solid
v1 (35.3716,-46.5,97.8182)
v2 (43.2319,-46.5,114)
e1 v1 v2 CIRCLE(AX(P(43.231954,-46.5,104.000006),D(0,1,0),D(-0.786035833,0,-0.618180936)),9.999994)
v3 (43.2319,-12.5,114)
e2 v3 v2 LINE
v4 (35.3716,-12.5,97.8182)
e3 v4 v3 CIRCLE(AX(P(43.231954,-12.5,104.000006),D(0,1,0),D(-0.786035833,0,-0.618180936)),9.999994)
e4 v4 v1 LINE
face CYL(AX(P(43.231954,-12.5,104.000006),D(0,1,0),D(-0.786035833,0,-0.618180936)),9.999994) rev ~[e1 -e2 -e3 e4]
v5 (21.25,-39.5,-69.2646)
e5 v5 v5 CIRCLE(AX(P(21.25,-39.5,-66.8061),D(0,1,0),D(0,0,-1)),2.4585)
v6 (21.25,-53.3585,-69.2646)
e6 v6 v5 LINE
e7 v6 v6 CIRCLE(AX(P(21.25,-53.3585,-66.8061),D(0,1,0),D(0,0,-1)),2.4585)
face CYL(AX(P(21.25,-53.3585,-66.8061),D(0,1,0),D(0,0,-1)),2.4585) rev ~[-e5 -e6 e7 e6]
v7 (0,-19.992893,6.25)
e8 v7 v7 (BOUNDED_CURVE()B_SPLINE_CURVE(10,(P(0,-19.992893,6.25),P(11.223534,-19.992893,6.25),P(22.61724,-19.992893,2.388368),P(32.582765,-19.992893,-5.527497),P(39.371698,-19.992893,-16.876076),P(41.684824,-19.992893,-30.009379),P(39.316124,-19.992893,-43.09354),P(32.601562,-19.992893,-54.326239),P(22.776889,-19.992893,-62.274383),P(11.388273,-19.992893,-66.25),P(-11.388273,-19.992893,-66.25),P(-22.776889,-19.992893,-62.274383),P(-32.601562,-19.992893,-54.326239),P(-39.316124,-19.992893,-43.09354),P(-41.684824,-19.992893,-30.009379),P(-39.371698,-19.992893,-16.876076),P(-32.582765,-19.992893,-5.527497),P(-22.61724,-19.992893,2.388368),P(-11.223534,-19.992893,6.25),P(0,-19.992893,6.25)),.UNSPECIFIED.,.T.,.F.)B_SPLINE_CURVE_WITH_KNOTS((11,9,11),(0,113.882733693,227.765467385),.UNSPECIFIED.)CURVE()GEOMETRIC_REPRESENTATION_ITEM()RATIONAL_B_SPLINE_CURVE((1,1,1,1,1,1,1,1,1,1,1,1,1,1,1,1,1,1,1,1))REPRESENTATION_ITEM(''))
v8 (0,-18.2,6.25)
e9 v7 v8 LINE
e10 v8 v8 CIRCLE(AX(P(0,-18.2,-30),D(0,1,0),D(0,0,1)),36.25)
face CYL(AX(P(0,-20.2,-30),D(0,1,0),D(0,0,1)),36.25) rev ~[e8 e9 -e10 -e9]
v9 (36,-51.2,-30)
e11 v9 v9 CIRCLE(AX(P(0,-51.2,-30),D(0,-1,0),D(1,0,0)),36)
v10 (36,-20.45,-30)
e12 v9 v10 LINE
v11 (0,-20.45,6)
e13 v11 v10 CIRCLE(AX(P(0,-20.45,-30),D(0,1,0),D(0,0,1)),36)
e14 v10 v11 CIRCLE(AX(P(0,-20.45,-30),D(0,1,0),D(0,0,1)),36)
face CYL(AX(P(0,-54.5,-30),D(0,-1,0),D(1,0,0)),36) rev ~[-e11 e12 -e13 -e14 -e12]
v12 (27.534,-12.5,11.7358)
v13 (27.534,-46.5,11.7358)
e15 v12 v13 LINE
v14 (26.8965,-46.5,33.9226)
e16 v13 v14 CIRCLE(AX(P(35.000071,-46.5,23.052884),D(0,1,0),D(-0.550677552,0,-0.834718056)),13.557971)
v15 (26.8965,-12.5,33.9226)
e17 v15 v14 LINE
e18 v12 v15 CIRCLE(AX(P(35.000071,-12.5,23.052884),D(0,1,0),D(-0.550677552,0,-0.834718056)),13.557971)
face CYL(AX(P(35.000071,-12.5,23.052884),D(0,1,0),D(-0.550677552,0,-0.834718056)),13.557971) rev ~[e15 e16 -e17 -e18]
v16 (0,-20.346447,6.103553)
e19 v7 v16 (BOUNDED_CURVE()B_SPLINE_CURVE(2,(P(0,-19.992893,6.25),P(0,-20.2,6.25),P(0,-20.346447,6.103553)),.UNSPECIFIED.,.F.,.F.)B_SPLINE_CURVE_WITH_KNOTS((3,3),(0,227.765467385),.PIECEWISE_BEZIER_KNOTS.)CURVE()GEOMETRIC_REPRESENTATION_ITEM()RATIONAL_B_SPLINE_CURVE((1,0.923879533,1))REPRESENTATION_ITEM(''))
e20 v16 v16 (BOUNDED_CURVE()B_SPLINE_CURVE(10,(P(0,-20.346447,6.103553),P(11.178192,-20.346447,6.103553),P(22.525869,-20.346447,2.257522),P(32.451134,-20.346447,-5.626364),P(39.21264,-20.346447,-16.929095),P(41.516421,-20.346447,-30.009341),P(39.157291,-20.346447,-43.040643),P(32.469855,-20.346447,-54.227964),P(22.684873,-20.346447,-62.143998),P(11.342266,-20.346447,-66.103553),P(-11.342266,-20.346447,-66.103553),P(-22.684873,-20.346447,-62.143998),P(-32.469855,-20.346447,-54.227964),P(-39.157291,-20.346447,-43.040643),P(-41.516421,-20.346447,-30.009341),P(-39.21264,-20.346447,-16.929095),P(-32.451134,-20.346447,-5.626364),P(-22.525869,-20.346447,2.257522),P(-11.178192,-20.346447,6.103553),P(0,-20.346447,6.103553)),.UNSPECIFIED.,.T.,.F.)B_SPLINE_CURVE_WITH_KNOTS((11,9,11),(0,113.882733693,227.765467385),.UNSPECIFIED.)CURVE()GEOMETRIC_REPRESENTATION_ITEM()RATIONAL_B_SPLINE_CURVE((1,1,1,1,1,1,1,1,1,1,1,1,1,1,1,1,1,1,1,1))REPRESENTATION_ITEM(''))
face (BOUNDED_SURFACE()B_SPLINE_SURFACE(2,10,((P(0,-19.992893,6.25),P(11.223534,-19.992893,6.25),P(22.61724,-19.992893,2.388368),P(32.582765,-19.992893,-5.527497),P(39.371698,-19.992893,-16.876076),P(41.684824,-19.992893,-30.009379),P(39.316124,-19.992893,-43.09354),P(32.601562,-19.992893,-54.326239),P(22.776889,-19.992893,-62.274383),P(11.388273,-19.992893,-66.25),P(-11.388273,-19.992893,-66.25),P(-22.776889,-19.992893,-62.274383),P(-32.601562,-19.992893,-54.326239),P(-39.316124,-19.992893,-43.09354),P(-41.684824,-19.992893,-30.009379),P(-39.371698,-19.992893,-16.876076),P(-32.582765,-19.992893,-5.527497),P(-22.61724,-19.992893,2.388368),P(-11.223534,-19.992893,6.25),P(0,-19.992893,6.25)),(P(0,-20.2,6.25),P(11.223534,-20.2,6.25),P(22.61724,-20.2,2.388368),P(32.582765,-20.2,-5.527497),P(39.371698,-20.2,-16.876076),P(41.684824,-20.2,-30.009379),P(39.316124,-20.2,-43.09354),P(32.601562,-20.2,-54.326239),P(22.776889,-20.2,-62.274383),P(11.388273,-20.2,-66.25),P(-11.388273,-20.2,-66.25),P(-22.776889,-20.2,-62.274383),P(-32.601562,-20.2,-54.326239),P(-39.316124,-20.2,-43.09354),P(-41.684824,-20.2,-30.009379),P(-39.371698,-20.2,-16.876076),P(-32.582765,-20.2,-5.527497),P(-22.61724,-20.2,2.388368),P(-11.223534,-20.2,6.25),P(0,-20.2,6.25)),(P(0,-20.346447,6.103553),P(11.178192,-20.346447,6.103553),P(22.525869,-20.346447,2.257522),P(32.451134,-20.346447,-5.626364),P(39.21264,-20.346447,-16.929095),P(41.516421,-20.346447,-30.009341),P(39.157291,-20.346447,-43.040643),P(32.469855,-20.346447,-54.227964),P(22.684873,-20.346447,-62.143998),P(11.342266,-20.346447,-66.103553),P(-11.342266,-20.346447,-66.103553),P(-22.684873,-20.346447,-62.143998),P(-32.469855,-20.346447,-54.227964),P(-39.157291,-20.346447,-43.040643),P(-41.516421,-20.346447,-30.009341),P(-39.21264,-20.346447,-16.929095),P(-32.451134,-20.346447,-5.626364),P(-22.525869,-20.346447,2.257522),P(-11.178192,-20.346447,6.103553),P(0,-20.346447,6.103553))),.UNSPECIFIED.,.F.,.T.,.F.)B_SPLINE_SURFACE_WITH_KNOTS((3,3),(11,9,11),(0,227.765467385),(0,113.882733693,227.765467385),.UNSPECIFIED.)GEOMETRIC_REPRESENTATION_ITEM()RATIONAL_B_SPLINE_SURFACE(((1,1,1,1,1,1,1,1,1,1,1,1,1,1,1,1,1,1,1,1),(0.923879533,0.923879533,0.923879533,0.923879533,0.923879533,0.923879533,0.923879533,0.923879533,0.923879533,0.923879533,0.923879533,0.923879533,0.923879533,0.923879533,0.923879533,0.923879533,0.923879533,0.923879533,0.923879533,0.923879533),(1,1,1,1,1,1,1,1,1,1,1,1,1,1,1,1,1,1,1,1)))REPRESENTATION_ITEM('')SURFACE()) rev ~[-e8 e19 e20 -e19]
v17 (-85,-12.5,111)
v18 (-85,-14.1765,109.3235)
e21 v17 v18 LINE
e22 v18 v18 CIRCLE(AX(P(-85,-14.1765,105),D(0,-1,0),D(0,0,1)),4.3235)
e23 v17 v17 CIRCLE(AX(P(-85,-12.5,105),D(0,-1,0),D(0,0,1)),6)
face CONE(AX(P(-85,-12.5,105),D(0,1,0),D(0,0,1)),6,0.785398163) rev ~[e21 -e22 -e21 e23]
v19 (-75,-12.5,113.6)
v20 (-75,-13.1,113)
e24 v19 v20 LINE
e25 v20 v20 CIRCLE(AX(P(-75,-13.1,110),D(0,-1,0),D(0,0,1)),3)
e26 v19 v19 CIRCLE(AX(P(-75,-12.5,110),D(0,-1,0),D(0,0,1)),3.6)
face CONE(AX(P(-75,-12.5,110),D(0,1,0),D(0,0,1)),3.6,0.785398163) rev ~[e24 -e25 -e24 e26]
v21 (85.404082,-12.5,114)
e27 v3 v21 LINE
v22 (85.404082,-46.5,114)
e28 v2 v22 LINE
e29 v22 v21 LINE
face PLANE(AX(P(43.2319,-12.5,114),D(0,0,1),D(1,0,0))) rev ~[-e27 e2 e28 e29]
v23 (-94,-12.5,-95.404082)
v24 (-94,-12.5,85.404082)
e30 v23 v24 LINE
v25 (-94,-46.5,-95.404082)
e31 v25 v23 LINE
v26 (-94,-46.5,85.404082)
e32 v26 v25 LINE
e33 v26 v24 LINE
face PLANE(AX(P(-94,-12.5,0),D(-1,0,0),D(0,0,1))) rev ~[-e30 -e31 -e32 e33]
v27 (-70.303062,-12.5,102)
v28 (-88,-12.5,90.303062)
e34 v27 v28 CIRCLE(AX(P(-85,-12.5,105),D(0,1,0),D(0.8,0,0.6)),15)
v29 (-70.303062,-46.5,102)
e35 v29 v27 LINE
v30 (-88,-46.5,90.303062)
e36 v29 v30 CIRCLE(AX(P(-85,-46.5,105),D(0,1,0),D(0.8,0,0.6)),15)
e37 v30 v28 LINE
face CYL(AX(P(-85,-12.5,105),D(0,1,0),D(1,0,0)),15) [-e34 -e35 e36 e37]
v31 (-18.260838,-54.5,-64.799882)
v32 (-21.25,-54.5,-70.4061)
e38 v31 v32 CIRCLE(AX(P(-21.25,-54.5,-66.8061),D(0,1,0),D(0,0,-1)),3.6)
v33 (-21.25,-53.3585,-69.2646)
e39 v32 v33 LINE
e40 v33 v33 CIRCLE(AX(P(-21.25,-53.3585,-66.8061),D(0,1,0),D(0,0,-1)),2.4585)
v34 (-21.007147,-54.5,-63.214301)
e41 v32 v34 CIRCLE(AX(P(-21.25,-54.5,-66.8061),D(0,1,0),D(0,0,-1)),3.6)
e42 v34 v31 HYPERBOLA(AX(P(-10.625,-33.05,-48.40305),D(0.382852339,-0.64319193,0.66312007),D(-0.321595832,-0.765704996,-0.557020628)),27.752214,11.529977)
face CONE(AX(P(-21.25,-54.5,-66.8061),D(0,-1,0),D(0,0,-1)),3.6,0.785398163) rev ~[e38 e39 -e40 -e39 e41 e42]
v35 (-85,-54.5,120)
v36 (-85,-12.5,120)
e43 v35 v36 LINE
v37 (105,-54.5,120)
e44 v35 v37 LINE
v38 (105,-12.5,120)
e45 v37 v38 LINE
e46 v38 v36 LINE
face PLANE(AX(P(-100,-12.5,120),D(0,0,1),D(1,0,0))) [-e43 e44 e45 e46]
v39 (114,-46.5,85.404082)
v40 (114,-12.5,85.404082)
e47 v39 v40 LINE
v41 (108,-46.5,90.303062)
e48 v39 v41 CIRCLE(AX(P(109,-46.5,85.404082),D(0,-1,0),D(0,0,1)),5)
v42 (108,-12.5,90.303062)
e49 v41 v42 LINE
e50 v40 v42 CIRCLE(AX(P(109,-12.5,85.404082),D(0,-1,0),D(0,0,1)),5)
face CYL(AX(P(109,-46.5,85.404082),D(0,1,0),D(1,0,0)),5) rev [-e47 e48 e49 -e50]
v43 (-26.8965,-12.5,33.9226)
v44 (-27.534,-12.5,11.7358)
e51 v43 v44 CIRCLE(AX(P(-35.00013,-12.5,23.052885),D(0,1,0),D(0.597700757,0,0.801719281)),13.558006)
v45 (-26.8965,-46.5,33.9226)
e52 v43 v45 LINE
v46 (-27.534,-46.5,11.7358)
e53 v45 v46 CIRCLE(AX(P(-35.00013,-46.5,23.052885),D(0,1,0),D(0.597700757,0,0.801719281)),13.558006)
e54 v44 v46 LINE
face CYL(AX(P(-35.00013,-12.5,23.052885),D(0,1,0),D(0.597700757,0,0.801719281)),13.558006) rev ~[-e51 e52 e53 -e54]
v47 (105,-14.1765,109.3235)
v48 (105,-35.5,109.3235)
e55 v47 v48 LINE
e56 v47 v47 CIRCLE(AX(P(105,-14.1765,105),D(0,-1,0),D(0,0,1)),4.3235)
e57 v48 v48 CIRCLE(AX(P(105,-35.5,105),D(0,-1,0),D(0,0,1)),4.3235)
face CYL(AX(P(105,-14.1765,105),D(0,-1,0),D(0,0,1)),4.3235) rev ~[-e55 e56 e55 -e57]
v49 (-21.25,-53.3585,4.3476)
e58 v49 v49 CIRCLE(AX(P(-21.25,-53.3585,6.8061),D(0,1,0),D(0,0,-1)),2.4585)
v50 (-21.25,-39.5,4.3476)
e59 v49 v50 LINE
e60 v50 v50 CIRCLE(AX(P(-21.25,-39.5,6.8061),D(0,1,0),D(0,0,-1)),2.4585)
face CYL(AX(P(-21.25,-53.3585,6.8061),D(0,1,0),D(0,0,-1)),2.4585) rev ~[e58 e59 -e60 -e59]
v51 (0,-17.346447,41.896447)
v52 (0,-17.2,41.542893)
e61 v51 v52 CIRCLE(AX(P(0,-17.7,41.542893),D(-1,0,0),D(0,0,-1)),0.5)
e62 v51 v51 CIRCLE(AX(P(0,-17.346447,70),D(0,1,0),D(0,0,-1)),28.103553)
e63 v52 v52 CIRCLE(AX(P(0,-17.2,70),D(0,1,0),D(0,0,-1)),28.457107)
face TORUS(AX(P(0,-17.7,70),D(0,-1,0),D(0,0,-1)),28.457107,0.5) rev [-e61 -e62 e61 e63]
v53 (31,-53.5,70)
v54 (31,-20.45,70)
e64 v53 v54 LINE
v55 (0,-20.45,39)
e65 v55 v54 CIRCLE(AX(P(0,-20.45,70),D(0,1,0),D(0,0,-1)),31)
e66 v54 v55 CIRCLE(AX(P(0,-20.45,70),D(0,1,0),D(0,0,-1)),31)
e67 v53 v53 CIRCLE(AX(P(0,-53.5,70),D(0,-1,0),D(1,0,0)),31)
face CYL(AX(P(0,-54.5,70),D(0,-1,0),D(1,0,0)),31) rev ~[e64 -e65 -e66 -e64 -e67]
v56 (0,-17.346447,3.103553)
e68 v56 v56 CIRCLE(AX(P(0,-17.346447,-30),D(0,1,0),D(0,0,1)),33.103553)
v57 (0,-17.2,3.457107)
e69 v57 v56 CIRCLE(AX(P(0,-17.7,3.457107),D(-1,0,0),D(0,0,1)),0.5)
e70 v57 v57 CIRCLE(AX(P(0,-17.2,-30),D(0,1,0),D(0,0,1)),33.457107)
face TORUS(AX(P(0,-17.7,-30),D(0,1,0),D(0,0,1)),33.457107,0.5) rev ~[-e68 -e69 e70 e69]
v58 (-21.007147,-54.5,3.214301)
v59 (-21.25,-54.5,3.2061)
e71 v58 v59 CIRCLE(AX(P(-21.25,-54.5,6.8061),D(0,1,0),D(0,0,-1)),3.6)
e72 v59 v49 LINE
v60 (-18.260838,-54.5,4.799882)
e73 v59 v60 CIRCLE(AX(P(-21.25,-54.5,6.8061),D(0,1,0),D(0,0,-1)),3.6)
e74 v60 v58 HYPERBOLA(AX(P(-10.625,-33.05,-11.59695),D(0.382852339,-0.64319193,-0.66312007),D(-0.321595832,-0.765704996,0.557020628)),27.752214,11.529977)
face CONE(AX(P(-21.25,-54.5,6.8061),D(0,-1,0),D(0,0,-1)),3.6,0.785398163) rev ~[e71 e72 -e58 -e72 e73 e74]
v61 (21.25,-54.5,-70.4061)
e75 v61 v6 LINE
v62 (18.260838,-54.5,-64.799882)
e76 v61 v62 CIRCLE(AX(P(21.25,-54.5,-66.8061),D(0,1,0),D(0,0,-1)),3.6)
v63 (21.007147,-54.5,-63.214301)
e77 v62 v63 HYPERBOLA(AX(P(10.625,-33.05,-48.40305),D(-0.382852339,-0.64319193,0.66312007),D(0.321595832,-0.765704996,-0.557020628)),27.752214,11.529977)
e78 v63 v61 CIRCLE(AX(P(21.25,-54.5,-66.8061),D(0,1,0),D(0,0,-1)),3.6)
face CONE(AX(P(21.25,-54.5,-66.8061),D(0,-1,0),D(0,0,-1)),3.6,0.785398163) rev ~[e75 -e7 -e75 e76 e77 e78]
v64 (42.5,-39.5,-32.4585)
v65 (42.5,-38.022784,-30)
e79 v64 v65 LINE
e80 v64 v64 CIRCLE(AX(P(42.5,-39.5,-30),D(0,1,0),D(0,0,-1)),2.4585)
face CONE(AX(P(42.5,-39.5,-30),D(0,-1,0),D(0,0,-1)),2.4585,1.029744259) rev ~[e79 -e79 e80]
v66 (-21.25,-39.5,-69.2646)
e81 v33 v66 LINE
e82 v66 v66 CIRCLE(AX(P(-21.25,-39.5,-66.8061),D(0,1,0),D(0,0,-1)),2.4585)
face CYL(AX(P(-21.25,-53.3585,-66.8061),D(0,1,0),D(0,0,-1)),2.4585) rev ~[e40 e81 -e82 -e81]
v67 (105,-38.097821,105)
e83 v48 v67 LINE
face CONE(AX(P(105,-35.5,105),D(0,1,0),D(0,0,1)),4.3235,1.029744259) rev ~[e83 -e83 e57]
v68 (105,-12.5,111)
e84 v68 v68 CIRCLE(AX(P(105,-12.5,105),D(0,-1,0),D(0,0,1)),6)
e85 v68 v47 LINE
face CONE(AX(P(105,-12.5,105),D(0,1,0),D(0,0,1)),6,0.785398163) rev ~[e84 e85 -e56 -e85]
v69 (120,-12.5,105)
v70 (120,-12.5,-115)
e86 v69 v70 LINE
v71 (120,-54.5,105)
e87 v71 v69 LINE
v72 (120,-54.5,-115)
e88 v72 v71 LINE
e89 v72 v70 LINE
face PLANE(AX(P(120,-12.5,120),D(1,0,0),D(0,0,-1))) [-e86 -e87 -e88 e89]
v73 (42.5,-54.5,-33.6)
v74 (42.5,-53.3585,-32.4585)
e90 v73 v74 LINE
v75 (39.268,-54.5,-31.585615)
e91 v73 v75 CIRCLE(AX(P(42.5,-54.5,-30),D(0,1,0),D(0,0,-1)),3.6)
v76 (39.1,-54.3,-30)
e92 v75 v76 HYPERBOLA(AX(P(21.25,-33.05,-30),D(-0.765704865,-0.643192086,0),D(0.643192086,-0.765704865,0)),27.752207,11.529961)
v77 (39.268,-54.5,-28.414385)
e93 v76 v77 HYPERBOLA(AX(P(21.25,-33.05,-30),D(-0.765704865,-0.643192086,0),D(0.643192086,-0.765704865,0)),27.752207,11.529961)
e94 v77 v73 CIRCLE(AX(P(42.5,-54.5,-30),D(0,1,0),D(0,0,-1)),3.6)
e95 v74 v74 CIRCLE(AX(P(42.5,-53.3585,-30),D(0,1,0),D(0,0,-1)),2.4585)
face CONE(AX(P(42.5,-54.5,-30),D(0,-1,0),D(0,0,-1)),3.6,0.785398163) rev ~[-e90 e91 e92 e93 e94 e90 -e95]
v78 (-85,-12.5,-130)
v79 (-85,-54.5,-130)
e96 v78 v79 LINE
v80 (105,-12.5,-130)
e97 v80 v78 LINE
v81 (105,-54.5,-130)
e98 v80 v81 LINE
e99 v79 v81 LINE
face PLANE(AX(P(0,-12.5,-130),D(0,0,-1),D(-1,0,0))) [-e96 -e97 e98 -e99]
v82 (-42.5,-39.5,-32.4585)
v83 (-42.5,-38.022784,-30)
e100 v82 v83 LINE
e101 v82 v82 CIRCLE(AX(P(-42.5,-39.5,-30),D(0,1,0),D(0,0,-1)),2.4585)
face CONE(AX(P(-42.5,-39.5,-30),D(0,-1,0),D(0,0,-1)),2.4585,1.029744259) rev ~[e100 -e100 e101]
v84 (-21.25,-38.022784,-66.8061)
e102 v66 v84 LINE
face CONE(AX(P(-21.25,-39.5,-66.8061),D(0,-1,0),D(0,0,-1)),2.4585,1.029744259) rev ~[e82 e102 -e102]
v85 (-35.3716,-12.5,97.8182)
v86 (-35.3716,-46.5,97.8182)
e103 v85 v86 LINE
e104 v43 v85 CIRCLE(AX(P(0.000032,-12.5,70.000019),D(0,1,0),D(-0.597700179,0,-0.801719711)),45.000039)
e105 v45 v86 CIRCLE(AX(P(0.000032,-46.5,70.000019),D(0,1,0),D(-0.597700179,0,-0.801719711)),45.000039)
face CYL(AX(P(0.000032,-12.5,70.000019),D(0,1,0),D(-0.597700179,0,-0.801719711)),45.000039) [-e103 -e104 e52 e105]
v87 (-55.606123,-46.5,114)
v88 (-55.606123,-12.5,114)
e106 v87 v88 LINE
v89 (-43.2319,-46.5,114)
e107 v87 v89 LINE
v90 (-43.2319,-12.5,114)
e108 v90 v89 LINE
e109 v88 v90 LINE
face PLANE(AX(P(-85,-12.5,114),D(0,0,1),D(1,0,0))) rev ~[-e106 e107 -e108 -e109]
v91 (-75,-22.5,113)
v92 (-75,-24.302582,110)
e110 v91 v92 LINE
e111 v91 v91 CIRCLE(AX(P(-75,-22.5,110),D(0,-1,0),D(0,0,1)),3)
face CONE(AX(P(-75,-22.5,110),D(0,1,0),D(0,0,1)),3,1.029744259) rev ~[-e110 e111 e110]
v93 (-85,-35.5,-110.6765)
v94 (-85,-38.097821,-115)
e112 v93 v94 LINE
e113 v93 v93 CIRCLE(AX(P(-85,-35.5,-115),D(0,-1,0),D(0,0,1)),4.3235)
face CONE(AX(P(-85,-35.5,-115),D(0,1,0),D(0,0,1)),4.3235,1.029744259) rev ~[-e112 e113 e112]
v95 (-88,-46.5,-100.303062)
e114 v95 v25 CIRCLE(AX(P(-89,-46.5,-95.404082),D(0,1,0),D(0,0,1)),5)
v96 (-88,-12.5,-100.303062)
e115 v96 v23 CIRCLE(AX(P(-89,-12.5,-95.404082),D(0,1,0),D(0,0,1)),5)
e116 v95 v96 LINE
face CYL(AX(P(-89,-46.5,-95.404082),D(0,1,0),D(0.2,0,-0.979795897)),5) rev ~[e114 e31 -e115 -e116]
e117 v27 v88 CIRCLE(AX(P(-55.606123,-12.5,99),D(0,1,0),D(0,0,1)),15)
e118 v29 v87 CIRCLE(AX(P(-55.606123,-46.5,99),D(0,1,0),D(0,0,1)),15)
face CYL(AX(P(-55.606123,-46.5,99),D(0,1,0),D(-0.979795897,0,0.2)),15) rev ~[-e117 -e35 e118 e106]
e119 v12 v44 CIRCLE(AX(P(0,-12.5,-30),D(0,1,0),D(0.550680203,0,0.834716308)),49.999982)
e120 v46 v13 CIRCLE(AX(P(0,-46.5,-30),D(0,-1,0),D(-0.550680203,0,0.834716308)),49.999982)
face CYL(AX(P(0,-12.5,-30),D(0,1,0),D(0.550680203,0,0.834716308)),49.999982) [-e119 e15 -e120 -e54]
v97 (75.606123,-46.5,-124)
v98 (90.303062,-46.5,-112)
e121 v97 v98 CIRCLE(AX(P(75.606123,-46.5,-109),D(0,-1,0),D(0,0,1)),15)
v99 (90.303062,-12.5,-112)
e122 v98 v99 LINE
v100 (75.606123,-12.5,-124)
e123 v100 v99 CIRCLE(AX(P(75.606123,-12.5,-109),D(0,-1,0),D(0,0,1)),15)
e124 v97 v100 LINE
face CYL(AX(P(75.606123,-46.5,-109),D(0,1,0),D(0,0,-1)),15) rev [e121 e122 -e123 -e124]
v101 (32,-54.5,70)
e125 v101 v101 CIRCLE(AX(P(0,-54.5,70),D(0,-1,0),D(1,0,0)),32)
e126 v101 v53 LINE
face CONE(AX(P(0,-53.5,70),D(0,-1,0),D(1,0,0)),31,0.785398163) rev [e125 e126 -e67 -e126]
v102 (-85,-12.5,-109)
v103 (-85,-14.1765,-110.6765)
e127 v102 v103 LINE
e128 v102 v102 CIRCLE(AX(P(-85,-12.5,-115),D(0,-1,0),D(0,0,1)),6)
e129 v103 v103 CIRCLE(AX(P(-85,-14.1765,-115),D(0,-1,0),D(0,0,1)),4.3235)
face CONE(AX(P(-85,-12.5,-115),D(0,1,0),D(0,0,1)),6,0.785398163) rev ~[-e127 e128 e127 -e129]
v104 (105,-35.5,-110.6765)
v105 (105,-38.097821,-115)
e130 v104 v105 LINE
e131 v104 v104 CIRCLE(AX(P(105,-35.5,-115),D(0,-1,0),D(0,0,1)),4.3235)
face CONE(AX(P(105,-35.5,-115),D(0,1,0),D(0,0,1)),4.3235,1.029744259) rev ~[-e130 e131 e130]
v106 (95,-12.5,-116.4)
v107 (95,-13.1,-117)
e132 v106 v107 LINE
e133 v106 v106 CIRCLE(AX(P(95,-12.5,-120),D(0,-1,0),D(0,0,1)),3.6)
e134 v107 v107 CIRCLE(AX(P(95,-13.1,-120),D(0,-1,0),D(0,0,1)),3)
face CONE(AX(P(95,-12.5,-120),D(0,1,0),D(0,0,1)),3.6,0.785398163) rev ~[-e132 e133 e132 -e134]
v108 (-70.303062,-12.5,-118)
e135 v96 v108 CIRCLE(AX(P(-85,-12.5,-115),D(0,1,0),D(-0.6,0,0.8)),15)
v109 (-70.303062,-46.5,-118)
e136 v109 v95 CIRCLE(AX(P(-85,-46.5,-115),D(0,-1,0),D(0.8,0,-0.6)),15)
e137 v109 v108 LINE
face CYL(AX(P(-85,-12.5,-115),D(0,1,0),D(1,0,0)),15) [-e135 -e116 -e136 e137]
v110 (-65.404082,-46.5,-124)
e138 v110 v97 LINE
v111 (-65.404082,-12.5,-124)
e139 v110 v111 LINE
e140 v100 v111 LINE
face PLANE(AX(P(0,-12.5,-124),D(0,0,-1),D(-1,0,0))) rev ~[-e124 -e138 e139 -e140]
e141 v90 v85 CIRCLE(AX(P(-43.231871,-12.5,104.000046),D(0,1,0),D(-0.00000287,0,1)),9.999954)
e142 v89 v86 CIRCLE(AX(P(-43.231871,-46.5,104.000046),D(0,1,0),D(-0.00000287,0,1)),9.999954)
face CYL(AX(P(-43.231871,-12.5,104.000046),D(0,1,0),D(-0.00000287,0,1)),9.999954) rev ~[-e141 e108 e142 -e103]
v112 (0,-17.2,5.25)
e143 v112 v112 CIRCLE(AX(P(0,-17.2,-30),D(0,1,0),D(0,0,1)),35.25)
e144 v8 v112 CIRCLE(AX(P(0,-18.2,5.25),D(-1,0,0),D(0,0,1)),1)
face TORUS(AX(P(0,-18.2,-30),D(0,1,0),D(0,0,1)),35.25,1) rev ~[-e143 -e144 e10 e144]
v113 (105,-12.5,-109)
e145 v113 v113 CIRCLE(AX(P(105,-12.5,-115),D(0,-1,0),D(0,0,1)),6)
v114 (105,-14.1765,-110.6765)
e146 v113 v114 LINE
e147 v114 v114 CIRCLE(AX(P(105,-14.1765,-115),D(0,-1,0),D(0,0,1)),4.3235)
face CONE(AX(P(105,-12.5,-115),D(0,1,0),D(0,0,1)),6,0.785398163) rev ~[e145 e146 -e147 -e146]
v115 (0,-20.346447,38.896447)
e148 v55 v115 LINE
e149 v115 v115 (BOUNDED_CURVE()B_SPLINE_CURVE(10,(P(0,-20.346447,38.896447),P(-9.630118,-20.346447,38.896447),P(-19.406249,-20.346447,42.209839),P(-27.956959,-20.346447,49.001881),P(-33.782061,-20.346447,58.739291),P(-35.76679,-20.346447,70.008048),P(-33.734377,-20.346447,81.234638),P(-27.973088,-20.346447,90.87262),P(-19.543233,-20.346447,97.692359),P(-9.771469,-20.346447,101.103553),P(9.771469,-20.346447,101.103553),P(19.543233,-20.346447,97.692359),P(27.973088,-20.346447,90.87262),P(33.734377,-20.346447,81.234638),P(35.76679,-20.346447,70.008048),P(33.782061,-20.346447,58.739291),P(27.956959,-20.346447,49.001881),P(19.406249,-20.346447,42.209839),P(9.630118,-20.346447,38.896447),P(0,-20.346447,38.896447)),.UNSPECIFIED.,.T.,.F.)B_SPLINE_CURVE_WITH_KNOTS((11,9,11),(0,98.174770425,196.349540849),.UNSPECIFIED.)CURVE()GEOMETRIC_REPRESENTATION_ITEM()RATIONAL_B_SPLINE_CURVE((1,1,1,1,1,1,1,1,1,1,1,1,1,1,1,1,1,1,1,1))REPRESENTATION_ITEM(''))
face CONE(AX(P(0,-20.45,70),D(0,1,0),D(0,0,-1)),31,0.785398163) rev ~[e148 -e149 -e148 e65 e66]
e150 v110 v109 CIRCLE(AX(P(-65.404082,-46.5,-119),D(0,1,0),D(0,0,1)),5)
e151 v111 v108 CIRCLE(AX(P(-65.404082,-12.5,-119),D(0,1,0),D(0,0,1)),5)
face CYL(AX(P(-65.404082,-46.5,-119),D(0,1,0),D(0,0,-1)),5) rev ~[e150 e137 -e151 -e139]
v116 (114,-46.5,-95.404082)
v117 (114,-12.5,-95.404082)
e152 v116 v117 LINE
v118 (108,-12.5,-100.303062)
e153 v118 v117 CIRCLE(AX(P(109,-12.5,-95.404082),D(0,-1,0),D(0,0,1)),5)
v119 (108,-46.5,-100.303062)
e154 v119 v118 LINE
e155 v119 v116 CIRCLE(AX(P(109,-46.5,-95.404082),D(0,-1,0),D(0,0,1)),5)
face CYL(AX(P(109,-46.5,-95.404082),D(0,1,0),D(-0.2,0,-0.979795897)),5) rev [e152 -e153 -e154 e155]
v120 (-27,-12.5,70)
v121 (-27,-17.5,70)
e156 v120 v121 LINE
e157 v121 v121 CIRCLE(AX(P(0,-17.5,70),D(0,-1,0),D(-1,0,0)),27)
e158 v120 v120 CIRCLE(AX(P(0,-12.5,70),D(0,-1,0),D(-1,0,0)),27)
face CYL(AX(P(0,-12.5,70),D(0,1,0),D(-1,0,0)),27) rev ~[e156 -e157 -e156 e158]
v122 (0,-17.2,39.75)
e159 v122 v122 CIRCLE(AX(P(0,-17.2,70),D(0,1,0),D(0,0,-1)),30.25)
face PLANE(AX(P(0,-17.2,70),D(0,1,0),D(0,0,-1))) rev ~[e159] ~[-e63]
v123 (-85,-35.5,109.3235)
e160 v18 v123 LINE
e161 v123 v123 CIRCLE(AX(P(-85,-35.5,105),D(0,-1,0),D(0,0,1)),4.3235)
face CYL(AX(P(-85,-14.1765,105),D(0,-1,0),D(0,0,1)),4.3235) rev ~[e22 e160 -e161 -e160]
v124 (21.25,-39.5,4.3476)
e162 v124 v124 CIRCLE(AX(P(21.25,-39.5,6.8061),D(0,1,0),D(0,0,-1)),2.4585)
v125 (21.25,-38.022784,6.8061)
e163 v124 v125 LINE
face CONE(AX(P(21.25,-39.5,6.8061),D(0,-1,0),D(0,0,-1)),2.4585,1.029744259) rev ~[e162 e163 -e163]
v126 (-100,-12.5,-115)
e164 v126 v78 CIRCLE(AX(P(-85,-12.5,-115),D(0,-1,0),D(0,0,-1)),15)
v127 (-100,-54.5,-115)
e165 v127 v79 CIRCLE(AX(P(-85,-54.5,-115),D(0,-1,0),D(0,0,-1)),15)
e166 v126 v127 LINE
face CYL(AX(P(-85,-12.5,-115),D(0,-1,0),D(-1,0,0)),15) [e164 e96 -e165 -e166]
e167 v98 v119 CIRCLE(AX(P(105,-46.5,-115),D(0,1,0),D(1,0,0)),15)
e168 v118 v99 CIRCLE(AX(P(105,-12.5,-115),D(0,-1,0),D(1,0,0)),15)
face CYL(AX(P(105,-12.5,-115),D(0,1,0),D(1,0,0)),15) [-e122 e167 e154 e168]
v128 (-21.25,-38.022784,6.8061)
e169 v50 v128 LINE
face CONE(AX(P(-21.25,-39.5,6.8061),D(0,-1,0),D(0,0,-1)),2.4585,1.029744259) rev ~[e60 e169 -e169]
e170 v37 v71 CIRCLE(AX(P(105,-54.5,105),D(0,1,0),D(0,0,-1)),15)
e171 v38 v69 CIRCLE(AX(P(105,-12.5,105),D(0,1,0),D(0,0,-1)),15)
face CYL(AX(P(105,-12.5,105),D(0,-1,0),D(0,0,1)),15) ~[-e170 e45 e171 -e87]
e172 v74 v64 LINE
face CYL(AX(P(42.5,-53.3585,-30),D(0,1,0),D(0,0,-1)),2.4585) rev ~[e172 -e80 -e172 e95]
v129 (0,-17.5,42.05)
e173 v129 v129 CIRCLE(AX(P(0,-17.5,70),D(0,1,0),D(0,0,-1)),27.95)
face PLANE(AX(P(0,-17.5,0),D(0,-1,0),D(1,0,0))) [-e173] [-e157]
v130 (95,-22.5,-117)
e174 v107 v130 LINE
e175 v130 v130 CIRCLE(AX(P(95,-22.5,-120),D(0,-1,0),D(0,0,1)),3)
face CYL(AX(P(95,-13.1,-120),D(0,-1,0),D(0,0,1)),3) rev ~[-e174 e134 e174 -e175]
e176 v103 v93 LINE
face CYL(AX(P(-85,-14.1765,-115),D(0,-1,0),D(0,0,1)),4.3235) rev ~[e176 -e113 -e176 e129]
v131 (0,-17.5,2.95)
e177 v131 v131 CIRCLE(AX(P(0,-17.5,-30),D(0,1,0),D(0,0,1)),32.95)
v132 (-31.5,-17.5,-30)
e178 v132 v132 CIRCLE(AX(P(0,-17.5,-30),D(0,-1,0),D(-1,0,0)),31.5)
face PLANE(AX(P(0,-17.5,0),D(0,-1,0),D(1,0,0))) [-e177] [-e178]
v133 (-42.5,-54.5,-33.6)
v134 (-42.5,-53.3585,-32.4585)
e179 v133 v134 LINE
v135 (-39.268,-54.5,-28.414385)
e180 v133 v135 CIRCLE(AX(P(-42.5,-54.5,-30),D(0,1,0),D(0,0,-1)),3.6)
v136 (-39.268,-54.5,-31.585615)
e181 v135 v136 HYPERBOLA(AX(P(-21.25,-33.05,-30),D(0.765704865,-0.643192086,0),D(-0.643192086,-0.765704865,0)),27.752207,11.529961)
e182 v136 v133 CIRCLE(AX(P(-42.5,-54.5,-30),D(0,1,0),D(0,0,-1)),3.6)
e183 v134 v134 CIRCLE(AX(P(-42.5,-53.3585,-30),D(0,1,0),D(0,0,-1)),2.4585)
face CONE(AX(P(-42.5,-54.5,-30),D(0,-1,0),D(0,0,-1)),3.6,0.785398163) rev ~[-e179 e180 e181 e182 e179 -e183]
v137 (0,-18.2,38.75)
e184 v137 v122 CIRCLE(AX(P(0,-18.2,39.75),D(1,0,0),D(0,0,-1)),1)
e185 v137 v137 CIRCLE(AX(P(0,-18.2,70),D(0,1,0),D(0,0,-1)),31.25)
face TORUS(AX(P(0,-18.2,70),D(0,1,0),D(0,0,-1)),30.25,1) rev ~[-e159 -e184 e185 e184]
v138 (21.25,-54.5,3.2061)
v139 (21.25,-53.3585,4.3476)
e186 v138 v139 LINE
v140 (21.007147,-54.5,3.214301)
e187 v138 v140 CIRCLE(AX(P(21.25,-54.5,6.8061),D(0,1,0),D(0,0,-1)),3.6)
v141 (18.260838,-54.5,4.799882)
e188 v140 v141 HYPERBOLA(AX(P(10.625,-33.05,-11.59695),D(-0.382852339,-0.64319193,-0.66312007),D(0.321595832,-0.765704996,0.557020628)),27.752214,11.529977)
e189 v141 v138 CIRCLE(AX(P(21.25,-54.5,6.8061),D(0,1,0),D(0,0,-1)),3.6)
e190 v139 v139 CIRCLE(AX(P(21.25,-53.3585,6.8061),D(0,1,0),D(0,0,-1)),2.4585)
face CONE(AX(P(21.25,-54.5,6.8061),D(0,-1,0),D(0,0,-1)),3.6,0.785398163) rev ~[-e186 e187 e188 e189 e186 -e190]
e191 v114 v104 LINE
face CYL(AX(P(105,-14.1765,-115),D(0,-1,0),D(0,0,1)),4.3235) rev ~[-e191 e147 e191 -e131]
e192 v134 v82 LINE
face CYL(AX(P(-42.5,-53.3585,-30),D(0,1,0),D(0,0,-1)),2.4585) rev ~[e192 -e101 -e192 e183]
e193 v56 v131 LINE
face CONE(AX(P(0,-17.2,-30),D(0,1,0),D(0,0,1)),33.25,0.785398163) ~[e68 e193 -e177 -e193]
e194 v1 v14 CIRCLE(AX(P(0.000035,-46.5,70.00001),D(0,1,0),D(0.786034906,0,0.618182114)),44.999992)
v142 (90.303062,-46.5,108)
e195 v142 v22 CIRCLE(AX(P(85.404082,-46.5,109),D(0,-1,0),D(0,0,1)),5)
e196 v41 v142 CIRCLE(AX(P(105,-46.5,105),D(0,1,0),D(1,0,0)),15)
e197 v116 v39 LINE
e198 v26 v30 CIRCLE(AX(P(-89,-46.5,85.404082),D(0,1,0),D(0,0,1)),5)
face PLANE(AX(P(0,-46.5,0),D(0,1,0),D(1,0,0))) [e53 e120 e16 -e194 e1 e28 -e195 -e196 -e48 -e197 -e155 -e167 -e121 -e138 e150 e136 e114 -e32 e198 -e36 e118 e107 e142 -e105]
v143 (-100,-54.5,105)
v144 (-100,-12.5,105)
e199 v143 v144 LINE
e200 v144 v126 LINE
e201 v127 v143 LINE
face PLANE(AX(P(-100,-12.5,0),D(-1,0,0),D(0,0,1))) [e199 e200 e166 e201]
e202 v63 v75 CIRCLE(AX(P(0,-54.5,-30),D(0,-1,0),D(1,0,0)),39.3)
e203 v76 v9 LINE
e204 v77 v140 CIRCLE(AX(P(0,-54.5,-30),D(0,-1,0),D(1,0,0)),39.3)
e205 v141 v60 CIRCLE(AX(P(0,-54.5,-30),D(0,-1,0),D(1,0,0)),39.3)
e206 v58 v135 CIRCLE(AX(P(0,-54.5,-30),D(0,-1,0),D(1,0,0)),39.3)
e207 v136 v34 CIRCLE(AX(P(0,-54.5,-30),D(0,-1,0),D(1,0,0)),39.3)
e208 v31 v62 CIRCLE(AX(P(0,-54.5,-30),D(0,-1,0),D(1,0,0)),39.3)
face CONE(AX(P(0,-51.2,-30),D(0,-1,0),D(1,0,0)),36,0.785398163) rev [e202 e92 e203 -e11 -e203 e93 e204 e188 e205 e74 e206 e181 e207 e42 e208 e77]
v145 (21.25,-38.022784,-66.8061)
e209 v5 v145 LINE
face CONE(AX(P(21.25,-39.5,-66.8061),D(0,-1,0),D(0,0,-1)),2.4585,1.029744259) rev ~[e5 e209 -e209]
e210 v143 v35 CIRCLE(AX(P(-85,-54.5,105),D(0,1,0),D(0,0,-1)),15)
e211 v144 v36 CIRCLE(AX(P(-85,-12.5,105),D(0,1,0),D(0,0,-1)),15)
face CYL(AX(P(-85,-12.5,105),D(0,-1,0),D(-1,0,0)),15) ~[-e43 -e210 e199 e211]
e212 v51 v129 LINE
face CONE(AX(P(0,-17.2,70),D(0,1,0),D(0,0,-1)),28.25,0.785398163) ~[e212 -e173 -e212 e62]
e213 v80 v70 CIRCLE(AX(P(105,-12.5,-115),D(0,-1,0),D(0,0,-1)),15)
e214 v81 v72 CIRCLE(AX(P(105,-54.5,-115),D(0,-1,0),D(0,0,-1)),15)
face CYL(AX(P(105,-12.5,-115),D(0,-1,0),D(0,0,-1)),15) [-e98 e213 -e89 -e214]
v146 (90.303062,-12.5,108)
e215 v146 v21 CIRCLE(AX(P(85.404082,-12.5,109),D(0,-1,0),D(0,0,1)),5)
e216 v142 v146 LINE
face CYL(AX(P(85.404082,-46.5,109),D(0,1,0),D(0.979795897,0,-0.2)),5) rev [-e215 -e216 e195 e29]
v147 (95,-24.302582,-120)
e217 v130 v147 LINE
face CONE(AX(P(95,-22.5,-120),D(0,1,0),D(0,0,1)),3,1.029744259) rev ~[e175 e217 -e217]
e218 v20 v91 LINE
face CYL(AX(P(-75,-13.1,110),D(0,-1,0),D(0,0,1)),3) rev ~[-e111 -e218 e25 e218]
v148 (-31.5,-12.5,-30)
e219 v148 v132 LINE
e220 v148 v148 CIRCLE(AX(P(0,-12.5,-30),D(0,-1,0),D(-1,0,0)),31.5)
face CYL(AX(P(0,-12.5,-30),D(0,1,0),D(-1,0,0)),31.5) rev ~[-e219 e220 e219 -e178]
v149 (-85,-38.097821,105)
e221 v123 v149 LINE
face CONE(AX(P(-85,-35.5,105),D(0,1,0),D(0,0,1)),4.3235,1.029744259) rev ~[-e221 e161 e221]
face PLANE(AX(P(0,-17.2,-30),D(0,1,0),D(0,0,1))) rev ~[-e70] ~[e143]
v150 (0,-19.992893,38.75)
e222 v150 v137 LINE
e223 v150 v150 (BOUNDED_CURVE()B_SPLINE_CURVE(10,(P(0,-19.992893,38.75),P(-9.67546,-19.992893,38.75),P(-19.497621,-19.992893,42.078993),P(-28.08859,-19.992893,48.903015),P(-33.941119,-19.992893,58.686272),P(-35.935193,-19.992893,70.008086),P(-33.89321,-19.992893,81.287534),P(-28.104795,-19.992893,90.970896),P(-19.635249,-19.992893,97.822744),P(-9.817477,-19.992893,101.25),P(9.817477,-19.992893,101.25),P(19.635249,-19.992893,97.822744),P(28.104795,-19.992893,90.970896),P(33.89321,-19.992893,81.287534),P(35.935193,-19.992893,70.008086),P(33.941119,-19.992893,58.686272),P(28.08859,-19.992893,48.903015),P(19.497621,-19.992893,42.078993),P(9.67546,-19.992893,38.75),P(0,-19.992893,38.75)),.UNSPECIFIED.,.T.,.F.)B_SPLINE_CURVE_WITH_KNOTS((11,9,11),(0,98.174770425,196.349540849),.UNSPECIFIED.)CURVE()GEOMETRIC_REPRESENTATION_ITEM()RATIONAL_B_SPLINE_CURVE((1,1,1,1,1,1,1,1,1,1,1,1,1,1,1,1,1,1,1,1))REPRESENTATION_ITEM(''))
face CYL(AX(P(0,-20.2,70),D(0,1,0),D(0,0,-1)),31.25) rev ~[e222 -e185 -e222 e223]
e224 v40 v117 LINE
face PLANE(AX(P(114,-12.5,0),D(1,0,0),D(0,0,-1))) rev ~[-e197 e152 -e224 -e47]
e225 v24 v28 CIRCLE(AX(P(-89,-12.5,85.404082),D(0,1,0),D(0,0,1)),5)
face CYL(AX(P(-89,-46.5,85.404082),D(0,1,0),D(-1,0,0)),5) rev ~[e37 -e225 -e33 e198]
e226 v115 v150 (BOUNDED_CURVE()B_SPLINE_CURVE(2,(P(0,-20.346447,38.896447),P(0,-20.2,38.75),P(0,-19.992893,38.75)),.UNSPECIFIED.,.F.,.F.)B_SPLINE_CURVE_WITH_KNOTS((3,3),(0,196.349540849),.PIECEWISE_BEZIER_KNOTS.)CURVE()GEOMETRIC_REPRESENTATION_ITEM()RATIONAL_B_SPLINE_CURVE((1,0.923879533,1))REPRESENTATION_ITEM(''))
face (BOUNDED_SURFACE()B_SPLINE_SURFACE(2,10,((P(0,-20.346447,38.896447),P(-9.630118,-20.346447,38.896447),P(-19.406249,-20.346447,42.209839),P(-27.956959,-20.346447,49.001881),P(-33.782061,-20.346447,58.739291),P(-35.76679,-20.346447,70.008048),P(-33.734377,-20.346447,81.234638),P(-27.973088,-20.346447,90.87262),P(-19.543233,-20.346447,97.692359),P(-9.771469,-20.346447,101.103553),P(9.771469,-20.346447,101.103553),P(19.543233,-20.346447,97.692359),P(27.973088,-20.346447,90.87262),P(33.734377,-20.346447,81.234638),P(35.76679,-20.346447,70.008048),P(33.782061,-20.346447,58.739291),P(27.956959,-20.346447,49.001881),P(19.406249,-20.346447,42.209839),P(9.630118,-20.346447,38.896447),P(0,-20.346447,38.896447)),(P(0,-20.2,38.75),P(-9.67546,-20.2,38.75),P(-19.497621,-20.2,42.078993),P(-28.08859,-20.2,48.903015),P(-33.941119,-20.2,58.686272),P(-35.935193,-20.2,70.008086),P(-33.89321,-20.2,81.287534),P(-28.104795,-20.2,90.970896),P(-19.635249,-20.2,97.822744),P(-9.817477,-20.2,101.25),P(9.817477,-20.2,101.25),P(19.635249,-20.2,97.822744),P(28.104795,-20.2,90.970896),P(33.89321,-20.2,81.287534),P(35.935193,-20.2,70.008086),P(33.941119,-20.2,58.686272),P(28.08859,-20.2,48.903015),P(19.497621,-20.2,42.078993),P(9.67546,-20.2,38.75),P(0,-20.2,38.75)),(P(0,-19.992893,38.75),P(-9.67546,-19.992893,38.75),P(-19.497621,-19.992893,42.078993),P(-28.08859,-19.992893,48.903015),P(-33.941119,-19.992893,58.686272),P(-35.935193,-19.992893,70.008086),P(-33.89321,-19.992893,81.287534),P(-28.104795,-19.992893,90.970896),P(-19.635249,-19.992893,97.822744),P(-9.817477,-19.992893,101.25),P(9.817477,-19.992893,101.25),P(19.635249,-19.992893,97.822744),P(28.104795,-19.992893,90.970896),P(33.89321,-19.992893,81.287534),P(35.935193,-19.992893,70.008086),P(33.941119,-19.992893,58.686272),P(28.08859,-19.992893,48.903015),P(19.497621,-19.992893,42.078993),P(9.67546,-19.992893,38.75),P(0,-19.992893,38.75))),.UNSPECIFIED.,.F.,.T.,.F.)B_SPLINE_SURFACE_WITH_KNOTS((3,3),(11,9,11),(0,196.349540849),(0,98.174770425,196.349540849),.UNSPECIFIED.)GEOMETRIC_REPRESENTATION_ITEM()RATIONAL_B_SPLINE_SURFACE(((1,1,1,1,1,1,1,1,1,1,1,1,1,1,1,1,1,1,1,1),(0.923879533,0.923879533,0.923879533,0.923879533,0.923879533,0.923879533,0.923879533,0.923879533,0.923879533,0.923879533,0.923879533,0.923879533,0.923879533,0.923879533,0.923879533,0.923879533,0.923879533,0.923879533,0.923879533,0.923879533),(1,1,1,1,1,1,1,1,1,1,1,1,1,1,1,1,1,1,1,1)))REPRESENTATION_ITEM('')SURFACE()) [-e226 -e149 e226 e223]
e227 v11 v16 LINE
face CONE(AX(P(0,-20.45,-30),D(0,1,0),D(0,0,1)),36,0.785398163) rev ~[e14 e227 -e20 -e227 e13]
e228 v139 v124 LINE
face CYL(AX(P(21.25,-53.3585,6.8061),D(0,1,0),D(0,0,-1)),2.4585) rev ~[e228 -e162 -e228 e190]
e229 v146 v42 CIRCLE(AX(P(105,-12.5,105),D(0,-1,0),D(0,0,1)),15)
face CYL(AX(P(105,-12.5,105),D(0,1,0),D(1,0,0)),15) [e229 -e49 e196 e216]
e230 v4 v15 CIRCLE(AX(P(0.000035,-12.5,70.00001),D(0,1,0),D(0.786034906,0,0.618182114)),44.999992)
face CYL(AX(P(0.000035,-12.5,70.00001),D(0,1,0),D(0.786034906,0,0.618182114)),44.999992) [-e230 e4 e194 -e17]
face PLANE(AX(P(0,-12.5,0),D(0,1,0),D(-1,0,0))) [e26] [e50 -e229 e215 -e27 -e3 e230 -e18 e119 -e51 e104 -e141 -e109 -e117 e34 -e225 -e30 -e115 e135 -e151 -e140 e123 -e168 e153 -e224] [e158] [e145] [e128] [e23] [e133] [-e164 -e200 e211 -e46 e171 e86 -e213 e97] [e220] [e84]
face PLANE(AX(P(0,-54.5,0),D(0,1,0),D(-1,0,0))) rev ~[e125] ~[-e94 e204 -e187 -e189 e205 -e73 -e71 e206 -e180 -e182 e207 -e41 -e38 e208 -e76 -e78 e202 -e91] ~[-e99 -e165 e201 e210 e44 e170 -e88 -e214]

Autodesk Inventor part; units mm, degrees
ref_plane "YZ Plane" through (0, 0, 0) normal (1, 0, 0) x (0, 1, 0)
ref_plane "XY Plane" through (0, 0, 0) normal (0, 0, 1) x (1, 0, 0)
ref_plane "РабПлоскость1" through (0, -12.5, 0) normal (0, 1, 0) x (-1, 0, 0)
sketch "Эскиз2" plane through (0, -12.5, 0) normal (0, 1, 0) x (-1, 0, 0)
  line L0 (100, 120) -> (-120, 120)
  line L1 (-120, 120) -> (-120, -130)
  line L2 (-120, -130) -> (100, -130)
  line L3 (100, -130) -> (100, 120)
  line L4 (144, 0) -> (-164, 0) projected
  line L5 (-164, 0) -> (144, 0) projected
  line L6 (0, -180) -> (0, 170) projected
  circle A0 centre (0, 70) radius 27
  circle A1 centre (0, -30) radius 31.5
  point P0 (0, 0)
  dimension "d10" = 120
  dimension "d11" = 130
  dimension "d12" = 120
  dimension "d13" = 100
  dimension "d14" = 70
  dimension "d15" = 30
  dimension "d16" = 63
  dimension "d17" = 54
extrude "Выдавливание2" add sketch "Эскиз2" against normal blind 42 contours L3 L4 A1 L6 A0 L0 | L6 A0 A1 L4 L1 L0 | L3 L2 L6 A1 L4 | L4 A1 L6 L2 L1
fillet "Сопряжение1" radius 15 4 edges at (120, -33.5, 120) (120, -33.5, -130) (-100, -33.5, 120) (-100, -33.5, -130)
sketch "Эскиз3" plane through (0, -12.5, 0) normal (0, 1, 0) x (1, 0, 0)
  line L0 (-85, -120) -> (105, -120) projected
  arc A0 (-100, -105) -> (-85, -120) centre (-85, -105) ccw construction
  line L1 (-100, 115) -> (-100, -105) projected
  arc A1 (-85, 130) -> (-100, 115) centre (-85, 115) ccw construction
  arc A2 (120, 115) -> (105, 130) centre (105, 115) ccw projected
  line L2 (120, -105) -> (120, 115) projected
  arc A3 (105, -120) -> (120, -105) centre (105, -105) ccw projected
  arc A4 (-85, 130) -> (-100, 115) centre (-85, 115) ccw projected
  line L3 (-100, 115) -> (-100, -105) projected
  arc A5 (-100, -105) -> (-85, -120) centre (-85, -105) ccw projected
  line L4 (-85, -120) -> (105, -120) projected
  arc A6 (105, -120) -> (120, -105) centre (105, -105) ccw projected
  line L5 (120, -105) -> (120, 115) projected
  arc A7 (120, 115) -> (105, 130) centre (105, 115) ccw projected
  line L6 (105, 130) -> (-85, 130) construction
  circle A8 centre (0, 30) radius 31.5 projected
  circle A9 centre (0, -70) radius 27 projected
  circle A10 centre (0, 30) radius 31.5 projected
  arc A11 (-94, -105) -> (-85, -114) centre (-85, -105) ccw
  arc A12 (105, -114) -> (114, -105) centre (105, -105) ccw
  line L7 (114, -105) -> (114, 115)
  arc A13 (114, 115) -> (105, 124) centre (105, 115) ccw
  line L8 (105, 124) -> (-85, 124)
  arc A14 (-85, 124) -> (-94, 115) centre (-85, 115) ccw
  line L9 (-94, 115) -> (-94, -105)
  arc A15 (27.534, -11.7358) -> (-27.534, -11.7358) centre (0, 30) ccw
  arc A16 (35.3716, -97.8182) -> (26.8965, -33.9226) centre (0, -70) ccw
  arc A17 (-26.8965, -33.9226) -> (-35.3716, -97.8182) centre (0, -70) ccw
  arc A18 (-26.8965, -33.9226) -> (-27.534, -11.7358) centre (-35.0001, -23.0529) ccw
  arc A19 (27.534, -11.7358) -> (26.8965, -33.9226) centre (35.0001, -23.0529) ccw
  line L10 (168.3492, 0) -> (-148.3492, 0) projected
  line L11 (0, 184.3492) -> (0, -174.3492) projected
  line L12 (-85, -114) -> (-43.2319, -114)
  line L13 (43.2319, -114) -> (105, -114)
  arc A20 (-43.2319, -114) -> (-35.3716, -97.8182) centre (-43.2319, -104) ccw
  arc A21 (35.3716, -97.8182) -> (43.2319, -114) centre (43.2319, -104) ccw
  point P0 (0, 0)
  dimension "d21" = 6
  dimension "d22" = 100
  dimension "d24" = 45
  dimension "d25" = 45
  dimension "d27" = 13.558
  dimension "d28" = 6
  dimension "d32" = 10
  dimension "d33" = 10
  dimension "d34" = 238
  dimension "d35" = 114
  dimension "d38" = 114
extrude "Выдавливание5" cut sketch "Эскиз3" against normal blind 34 contours L10 A15 A18 A17 A20 L12 A11 L9 | L9 A14 L8 L11 A15 L10 | L10 A15 L11 L8 A13 L7 | L7 A12 L13 A21 A16 A19 A15 L10
sketch "Эскиз4" plane through (0, -54.5, 0) normal (0, -1, 0) x (1, 0, 0)
  circle A0 centre (0, -30) radius 31.5 projected
  circle A1 centre (0, 70) radius 27 projected
  arc A2 (-100, -115) -> (-85, -130) centre (-85, -115) ccw projected
  line L0 (-85, -130) -> (105, -130) projected
  arc A3 (105, -130) -> (120, -115) centre (105, -115) ccw projected
  line L1 (120, -115) -> (120, 105) projected
  arc A4 (120, 105) -> (105, 120) centre (105, 105) ccw projected
  line L2 (105, 120) -> (-85, 120) projected
  arc A5 (-85, 120) -> (-100, 105) centre (-85, 105) ccw projected
  line L3 (-100, 105) -> (-100, -115) projected
  circle A6 centre (0, 70) radius 31
  circle A7 centre (0, -30) radius 36
  circle A8 centre (0, -30) radius 31.5
  circle A9 centre (0, 70) radius 27
  point P0 (0, 0)
  dimension "d41" = 62
  dimension "d42" = 72
extrude "Выдавливание7" cut sketch "Эскиз4" against normal blind 37 contours A6 | A7
sketch "Эскиз5" plane through (0, -12.5, 0) normal (0, 1, 0) x (1, 0, 0)
  arc A0 (105, -120) -> (120, -105) centre (105, -105) ccw projected
  arc A1 (-100, -105) -> (-85, -120) centre (-85, -105) ccw projected
  arc A2 (-85, 130) -> (-100, 115) centre (-85, 115) ccw projected
  arc A3 (120, 115) -> (105, 130) centre (105, 115) ccw projected
  circle A4 centre (-85, 115) radius 15
  circle A5 centre (-85, -105) radius 15
  circle A6 centre (105, 115) radius 15
  circle A7 centre (105, -105) radius 15
  line L0 (105, -114) -> (43.2319, -114) projected
  line L1 (114, 115) -> (114, -105) projected
  arc A8 (-94, -105) -> (-85, -114) centre (-85, -105) ccw projected
  line L2 (-43.2319, -114) -> (-85, -114) projected
  arc A9 (-43.2319, -114) -> (-35.3716, -97.8182) centre (-43.2319, -104) ccw projected
  arc A10 (-26.8965, -33.9226) -> (-35.3716, -97.8182) centre (0, -70) ccw projected
  arc A11 (-26.8965, -33.9226) -> (-27.534, -11.7358) centre (-35.0001, -23.0529) ccw projected
  arc A12 (27.534, -11.7358) -> (-27.534, -11.7358) centre (0, 30) ccw projected
  arc A13 (27.534, -11.7358) -> (26.8965, -33.9226) centre (35.0001, -23.0529) ccw projected
  arc A14 (35.3716, -97.8182) -> (26.8965, -33.9226) centre (0, -70) ccw projected
  arc A15 (35.3716, -97.8182) -> (43.2319, -114) centre (43.2319, -104) ccw projected
  line L3 (105, -114) -> (43.2319, -114) projected
  arc A16 (105, -114) -> (114, -105) centre (105, -105) ccw projected
  line L4 (114, 115) -> (114, -105) projected
  arc A17 (114, 115) -> (105, 124) centre (105, 115) ccw projected
  line L5 (-85, 124) -> (105, 124) projected
  arc A18 (-85, 124) -> (-94, 115) centre (-85, 115) ccw projected
  line L6 (-94, -105) -> (-94, 115) projected
  line L7 (-85, 124) -> (105, 124) projected
  line L8 (-94, -105) -> (-94, 115) projected
  line L9 (-43.2319, -114) -> (-85, -114) projected
  point P0 (0, 0)
extrude "Выдавливание8" add sketch "Эскиз5" against normal blind 37 contours A7 L0 A16 L1 A0 | A7 L1 A16 L0 | L1 A17 L5 A6 A3 | A6 L5 A17 L1 | L5 A18 L6 A4 A2 | A4 L6 A18 L5 | L6 A8 L2 A5 A1 | A5 L2 A8 L6
fillet "Сопряжение2" radius 15 2 edges at (-73, -29.5, 114) (93, -29.5, -124)
fillet "Сопряжение3" radius 5 6 edges at (114, -29.5, 93) (93, -29.5, 114) (-94, -29.5, 93) (-94, -29.5, -103) (-73, -29.5, -124) (114, -29.5, -103)
sketch "Эскиз6" plane through (0, -12.5, 0) normal (0, 1, 0) x (1, 0, 0)
  line L0 (85.4041, -114) -> (43.2319, -114) projected
  arc A0 (35.3716, -97.8182) -> (43.2319, -114) centre (43.2319, -104) ccw projected
  arc A1 (35.3716, -97.8182) -> (26.8965, -33.9226) centre (0, -70) ccw projected
  arc A2 (27.534, -11.7358) -> (26.8965, -33.9226) centre (35.0001, -23.0529) ccw projected
  arc A3 (27.534, -11.7358) -> (-27.534, -11.7358) centre (0, 30) ccw projected
  arc A4 (-26.8965, -33.9226) -> (-27.534, -11.7358) centre (-35.0001, -23.0529) ccw projected
  arc A5 (-26.8965, -33.9226) -> (-35.3716, -97.8182) centre (0, -70) ccw projected
  arc A6 (-43.2319, -114) -> (-35.3716, -97.8182) centre (-43.2319, -104) ccw projected
  line L1 (-43.2319, -114) -> (-55.6061, -114) projected
  arc A7 (-70.3031, -102) -> (-55.6061, -114) centre (-55.6061, -99) ccw projected
  arc A8 (-70.3031, -102) -> (-88, -90.3031) centre (-85, -105) ccw projected
  arc A9 (-94, -85.4041) -> (-88, -90.3031) centre (-89, -85.4041) ccw projected
  line L2 (-94, -85.4041) -> (-94, 95.4041) projected
  arc A10 (-88, 100.3031) -> (-94, 95.4041) centre (-89, 95.4041) ccw projected
  arc A11 (-88, 100.3031) -> (-70.3031, 118) centre (-85, 115) ccw projected
  arc A12 (-65.4041, 124) -> (-70.3031, 118) centre (-65.4041, 119) ccw projected
  line L3 (-65.4041, 124) -> (75.6061, 124) projected
  arc A13 (90.3031, 112) -> (75.6061, 124) centre (75.6061, 109) ccw projected
  arc A14 (90.3031, 112) -> (108, 100.3031) centre (105, 115) ccw projected
  arc A15 (114, 95.4041) -> (108, 100.3031) centre (109, 95.4041) ccw projected
  line L4 (114, 95.4041) -> (114, -85.4041) projected
  arc A16 (108, -90.3031) -> (114, -85.4041) centre (109, -85.4041) ccw projected
  arc A17 (108, -90.3031) -> (90.3031, -108) centre (105, -105) ccw projected
  arc A18 (85.4041, -114) -> (90.3031, -108) centre (85.4041, -109) ccw projected
  circle A19 centre (0, -70) radius 27 projected
  circle A20 centre (0, 30) radius 31.5 projected
  arc A21 (105, -120) -> (120, -105) centre (105, -105) ccw projected
  line L5 (120, -105) -> (120, 115) projected
  arc A22 (120, 115) -> (105, 130) centre (105, 115) ccw projected
  line L6 (105, 130) -> (-85, 130) projected
  arc A23 (-85, 130) -> (-100, 115) centre (-85, 115) ccw projected
  line L7 (-100, 115) -> (-100, -105) projected
  arc A24 (-100, -105) -> (-85, -120) centre (-85, -105) ccw projected
  line L8 (-85, -120) -> (105, -120) projected
  arc A25 (108, -90.3031) -> (90.3031, -108) centre (105, -105) ccw projected
  arc A26 (-70.3031, -102) -> (-88, -90.3031) centre (-85, -105) ccw projected
  arc A27 (-88, 100.3031) -> (-70.3031, 118) centre (-85, 115) ccw projected
  circle A28 centre (95, 120) radius 1.5
  circle A29 centre (-75, -110) radius 1.5
  point P0 (0, 0)
  dimension "d51" = 5
  dimension "d52" = 10
  dimension "d53" = 10
  dimension "d54" = 5
  dimension "d55" = 3
  dimension "d56" = 3
hole "Отверстие1" at (95, -12.5, -120) at (-75, -12.5, 110) direction (0, -1, 0) diameter 6 depth 10 tip angle 118 countersink diameter 7.2 countersink angle 90
sketch "Эскиз7" plane through (0, -12.5, 0) normal (0, 1, 0) x (1, 0, 0)
  arc A0 (-100, -105) -> (-85, -120) centre (-85, -105) ccw projected
  circle A1 centre (95, 120) radius 3.6 projected
  circle A2 centre (-75, -110) radius 3.6 projected
  line L0 (85.4041, -114) -> (43.2319, -114) projected
  arc A3 (35.3716, -97.8182) -> (43.2319, -114) centre (43.2319, -104) ccw projected
  arc A4 (35.3716, -97.8182) -> (26.8965, -33.9226) centre (0, -70) ccw projected
  arc A5 (27.534, -11.7358) -> (26.8965, -33.9226) centre (35.0001, -23.0529) ccw projected
  arc A6 (27.534, -11.7358) -> (-27.534, -11.7358) centre (0, 30) ccw projected
  arc A7 (-26.8965, -33.9226) -> (-27.534, -11.7358) centre (-35.0001, -23.0529) ccw projected
  arc A8 (-26.8965, -33.9226) -> (-35.3716, -97.8182) centre (0, -70) ccw projected
  arc A9 (-43.2319, -114) -> (-35.3716, -97.8182) centre (-43.2319, -104) ccw projected
  line L1 (-43.2319, -114) -> (-55.6061, -114) projected
  arc A10 (-70.3031, -102) -> (-55.6061, -114) centre (-55.6061, -99) ccw projected
  arc A11 (-70.3031, -102) -> (-88, -90.3031) centre (-85, -105) ccw projected
  arc A12 (-94, -85.4041) -> (-88, -90.3031) centre (-89, -85.4041) ccw projected
  line L2 (-94, -85.4041) -> (-94, 95.4041) projected
  arc A13 (-88, 100.3031) -> (-94, 95.4041) centre (-89, 95.4041) ccw projected
  arc A14 (-88, 100.3031) -> (-70.3031, 118) centre (-85, 115) ccw projected
  arc A15 (-65.4041, 124) -> (-70.3031, 118) centre (-65.4041, 119) ccw projected
  line L3 (-65.4041, 124) -> (75.6061, 124) projected
  arc A16 (90.3031, 112) -> (75.6061, 124) centre (75.6061, 109) ccw projected
  arc A17 (90.3031, 112) -> (108, 100.3031) centre (105, 115) ccw projected
  arc A18 (114, 95.4041) -> (108, 100.3031) centre (109, 95.4041) ccw projected
  line L4 (114, 95.4041) -> (114, -85.4041) projected
  arc A19 (108, -90.3031) -> (114, -85.4041) centre (109, -85.4041) ccw projected
  arc A20 (108, -90.3031) -> (90.3031, -108) centre (105, -105) ccw projected
  arc A21 (85.4041, -114) -> (90.3031, -108) centre (85.4041, -109) ccw projected
  circle A22 centre (0, -70) radius 27 projected
  circle A23 centre (0, 30) radius 31.5 projected
  arc A24 (105, -120) -> (120, -105) centre (105, -105) ccw projected
  line L5 (120, -105) -> (120, 115) projected
  arc A25 (120, 115) -> (105, 130) centre (105, 115) ccw projected
  line L6 (105, 130) -> (-85, 130) projected
  arc A26 (-85, 130) -> (-100, 115) centre (-85, 115) ccw projected
  line L7 (-100, 115) -> (-100, -105) projected
  arc A27 (-100, -105) -> (-85, -120) centre (-85, -105) ccw projected
  line L8 (-85, -120) -> (105, -120) projected
  arc A28 (120, 115) -> (105, 130) centre (105, 115) ccw projected
  arc A29 (105, -120) -> (120, -105) centre (105, -105) ccw projected
  point P0 (0, 0)
hole "Отверстие2" at (-85, -12.5, -115) at (-85, -12.5, 105) at (105, -12.5, 105) at (105, -12.5, -115) direction (0, -1, 0) diameter 8.647 depth 23 tip angle 118 countersink diameter 12 countersink angle 90 thread size "M10x1.25" class "6H" standard "ISO Metric profile"
chamfer "Фаска1" distance 3.3 angle 45 1 edges at (-36, -54.5, -30)
chamfer "Фаска2" distance 1 angle 45 1 edges at (-31, -54.5, 70)
sketch "Эскиз8" plane through (0, -54.5, 0) normal (0, -1, 0) x (1, 0, 0)
  circle A0 centre (0, -30) radius 31.5 projected
  circle A1 centre (0, -30) radius 36 projected
  circle A2 centre (0, -30) radius 42.5 construction
  line L0 (-144, 0) -> (164, 0) projected
  line L1 (0, 170) -> (0, -180) projected
  line L2 (0, -30) -> (-42.5, -30) construction
  circle A3 centre (-42.5, -30) radius 1
  circle A4 centre (-21.25, -66.8061) radius 1
  circle A5 centre (21.25, -66.8061) radius 1
  circle A6 centre (42.5, -30) radius 1
  circle A7 centre (21.25, 6.8061) radius 1
  circle A8 centre (-21.25, 6.8061) radius 1
  point P0 (0, 0)
  dimension "d77" = 85
  dimension "d78" = 2
  dimension "d81" = 360
hole "Отверстие3" at (-42.5, -54.5, -30) at (-21.25, -54.5, -66.8061) at (21.25, -54.5, -66.8061) at (42.5, -54.5, -30) at (21.25, -54.5, 6.8061) at (-21.25, -54.5, 6.8061) direction (0, 1, 0) diameter 4.917 depth 15 tip angle 118 countersink diameter 7.2 countersink angle 90 thread size "M6x1" class "6H" standard "ISO Metric profile"
sketch "Эскиз9" plane through (0, 0, 0) normal (1, 0, 0) x (0, 1, 0)
  point P0 (0, 0)
sketch "Эскиз10" plane through (0, 0, 0) normal (1, 0, 0) x (0, 1, 0)
  line L0 (-17.5, 39) -> (-17.5, 101) projected
  line L1 (-53.5, 39) -> (-17.5, 39) projected
  line L2 (-51.2, 6) -> (-17.5, 6) projected
  line L3 (-17.5, -66) -> (-17.5, 6) projected
  line L4 (-20.45, 39) -> (-20.2, 38.75)
  line L5 (-20.2, 38.75) -> (-17.2, 38.75)
  line L6 (-17.2, 38.75) -> (-17.2, 41.75)
  line L7 (-17.2, 41.75) -> (-17.5, 42.05)
  line L8 (-20.45, 6) -> (-20.2, 6.25)
  line L9 (-20.2, 6.25) -> (-17.2, 6.25)
  line L10 (-17.2, 6.25) -> (-17.2, 3.25)
  line L11 (-17.2, 3.25) -> (-17.5, 2.95)
  line L12 (-65.4038, -30) -> (10.9006, -30) projected
  line L13 (-65.4038, 70) -> (10.9006, 70) projected
  point P0 (0, 0)
  dimension "d90" = 45
  dimension "d91" = 45
  dimension "d92" = 3
  dimension "d93" = 0.25
  dimension "d94" = 0.3
  dimension "d95" = 45
  dimension "d96" = 45
  dimension "d97" = 3
  dimension "d98" = 0.25
  dimension "d99" = 0.3
revolve "Вращение1" cut sketch "Эскиз10" angle 360 about axis through (0, -54.5, -30) along (0, 1, 0) contours L8 L9 L10 L11 L3 L2
revolve "Вращение2" cut sketch "Эскиз10" angle 360 about axis through (0, -54.5, 70) along (0, 1, 0) contours L0 L7 L6 L5 L4 L1
fillet "Сопряжение4" radius 1 2 edges at (0, -17.2, 101.25) (0, -17.2, -66.25)
fillet "Сопряжение5" radius 0.5 4 edges at (0, -20.2, 101.25) (0, -17.2, 98.25) (0, -20.2, -66.25) (0, -17.2, -63.25)
properties part number "корпус_02"
